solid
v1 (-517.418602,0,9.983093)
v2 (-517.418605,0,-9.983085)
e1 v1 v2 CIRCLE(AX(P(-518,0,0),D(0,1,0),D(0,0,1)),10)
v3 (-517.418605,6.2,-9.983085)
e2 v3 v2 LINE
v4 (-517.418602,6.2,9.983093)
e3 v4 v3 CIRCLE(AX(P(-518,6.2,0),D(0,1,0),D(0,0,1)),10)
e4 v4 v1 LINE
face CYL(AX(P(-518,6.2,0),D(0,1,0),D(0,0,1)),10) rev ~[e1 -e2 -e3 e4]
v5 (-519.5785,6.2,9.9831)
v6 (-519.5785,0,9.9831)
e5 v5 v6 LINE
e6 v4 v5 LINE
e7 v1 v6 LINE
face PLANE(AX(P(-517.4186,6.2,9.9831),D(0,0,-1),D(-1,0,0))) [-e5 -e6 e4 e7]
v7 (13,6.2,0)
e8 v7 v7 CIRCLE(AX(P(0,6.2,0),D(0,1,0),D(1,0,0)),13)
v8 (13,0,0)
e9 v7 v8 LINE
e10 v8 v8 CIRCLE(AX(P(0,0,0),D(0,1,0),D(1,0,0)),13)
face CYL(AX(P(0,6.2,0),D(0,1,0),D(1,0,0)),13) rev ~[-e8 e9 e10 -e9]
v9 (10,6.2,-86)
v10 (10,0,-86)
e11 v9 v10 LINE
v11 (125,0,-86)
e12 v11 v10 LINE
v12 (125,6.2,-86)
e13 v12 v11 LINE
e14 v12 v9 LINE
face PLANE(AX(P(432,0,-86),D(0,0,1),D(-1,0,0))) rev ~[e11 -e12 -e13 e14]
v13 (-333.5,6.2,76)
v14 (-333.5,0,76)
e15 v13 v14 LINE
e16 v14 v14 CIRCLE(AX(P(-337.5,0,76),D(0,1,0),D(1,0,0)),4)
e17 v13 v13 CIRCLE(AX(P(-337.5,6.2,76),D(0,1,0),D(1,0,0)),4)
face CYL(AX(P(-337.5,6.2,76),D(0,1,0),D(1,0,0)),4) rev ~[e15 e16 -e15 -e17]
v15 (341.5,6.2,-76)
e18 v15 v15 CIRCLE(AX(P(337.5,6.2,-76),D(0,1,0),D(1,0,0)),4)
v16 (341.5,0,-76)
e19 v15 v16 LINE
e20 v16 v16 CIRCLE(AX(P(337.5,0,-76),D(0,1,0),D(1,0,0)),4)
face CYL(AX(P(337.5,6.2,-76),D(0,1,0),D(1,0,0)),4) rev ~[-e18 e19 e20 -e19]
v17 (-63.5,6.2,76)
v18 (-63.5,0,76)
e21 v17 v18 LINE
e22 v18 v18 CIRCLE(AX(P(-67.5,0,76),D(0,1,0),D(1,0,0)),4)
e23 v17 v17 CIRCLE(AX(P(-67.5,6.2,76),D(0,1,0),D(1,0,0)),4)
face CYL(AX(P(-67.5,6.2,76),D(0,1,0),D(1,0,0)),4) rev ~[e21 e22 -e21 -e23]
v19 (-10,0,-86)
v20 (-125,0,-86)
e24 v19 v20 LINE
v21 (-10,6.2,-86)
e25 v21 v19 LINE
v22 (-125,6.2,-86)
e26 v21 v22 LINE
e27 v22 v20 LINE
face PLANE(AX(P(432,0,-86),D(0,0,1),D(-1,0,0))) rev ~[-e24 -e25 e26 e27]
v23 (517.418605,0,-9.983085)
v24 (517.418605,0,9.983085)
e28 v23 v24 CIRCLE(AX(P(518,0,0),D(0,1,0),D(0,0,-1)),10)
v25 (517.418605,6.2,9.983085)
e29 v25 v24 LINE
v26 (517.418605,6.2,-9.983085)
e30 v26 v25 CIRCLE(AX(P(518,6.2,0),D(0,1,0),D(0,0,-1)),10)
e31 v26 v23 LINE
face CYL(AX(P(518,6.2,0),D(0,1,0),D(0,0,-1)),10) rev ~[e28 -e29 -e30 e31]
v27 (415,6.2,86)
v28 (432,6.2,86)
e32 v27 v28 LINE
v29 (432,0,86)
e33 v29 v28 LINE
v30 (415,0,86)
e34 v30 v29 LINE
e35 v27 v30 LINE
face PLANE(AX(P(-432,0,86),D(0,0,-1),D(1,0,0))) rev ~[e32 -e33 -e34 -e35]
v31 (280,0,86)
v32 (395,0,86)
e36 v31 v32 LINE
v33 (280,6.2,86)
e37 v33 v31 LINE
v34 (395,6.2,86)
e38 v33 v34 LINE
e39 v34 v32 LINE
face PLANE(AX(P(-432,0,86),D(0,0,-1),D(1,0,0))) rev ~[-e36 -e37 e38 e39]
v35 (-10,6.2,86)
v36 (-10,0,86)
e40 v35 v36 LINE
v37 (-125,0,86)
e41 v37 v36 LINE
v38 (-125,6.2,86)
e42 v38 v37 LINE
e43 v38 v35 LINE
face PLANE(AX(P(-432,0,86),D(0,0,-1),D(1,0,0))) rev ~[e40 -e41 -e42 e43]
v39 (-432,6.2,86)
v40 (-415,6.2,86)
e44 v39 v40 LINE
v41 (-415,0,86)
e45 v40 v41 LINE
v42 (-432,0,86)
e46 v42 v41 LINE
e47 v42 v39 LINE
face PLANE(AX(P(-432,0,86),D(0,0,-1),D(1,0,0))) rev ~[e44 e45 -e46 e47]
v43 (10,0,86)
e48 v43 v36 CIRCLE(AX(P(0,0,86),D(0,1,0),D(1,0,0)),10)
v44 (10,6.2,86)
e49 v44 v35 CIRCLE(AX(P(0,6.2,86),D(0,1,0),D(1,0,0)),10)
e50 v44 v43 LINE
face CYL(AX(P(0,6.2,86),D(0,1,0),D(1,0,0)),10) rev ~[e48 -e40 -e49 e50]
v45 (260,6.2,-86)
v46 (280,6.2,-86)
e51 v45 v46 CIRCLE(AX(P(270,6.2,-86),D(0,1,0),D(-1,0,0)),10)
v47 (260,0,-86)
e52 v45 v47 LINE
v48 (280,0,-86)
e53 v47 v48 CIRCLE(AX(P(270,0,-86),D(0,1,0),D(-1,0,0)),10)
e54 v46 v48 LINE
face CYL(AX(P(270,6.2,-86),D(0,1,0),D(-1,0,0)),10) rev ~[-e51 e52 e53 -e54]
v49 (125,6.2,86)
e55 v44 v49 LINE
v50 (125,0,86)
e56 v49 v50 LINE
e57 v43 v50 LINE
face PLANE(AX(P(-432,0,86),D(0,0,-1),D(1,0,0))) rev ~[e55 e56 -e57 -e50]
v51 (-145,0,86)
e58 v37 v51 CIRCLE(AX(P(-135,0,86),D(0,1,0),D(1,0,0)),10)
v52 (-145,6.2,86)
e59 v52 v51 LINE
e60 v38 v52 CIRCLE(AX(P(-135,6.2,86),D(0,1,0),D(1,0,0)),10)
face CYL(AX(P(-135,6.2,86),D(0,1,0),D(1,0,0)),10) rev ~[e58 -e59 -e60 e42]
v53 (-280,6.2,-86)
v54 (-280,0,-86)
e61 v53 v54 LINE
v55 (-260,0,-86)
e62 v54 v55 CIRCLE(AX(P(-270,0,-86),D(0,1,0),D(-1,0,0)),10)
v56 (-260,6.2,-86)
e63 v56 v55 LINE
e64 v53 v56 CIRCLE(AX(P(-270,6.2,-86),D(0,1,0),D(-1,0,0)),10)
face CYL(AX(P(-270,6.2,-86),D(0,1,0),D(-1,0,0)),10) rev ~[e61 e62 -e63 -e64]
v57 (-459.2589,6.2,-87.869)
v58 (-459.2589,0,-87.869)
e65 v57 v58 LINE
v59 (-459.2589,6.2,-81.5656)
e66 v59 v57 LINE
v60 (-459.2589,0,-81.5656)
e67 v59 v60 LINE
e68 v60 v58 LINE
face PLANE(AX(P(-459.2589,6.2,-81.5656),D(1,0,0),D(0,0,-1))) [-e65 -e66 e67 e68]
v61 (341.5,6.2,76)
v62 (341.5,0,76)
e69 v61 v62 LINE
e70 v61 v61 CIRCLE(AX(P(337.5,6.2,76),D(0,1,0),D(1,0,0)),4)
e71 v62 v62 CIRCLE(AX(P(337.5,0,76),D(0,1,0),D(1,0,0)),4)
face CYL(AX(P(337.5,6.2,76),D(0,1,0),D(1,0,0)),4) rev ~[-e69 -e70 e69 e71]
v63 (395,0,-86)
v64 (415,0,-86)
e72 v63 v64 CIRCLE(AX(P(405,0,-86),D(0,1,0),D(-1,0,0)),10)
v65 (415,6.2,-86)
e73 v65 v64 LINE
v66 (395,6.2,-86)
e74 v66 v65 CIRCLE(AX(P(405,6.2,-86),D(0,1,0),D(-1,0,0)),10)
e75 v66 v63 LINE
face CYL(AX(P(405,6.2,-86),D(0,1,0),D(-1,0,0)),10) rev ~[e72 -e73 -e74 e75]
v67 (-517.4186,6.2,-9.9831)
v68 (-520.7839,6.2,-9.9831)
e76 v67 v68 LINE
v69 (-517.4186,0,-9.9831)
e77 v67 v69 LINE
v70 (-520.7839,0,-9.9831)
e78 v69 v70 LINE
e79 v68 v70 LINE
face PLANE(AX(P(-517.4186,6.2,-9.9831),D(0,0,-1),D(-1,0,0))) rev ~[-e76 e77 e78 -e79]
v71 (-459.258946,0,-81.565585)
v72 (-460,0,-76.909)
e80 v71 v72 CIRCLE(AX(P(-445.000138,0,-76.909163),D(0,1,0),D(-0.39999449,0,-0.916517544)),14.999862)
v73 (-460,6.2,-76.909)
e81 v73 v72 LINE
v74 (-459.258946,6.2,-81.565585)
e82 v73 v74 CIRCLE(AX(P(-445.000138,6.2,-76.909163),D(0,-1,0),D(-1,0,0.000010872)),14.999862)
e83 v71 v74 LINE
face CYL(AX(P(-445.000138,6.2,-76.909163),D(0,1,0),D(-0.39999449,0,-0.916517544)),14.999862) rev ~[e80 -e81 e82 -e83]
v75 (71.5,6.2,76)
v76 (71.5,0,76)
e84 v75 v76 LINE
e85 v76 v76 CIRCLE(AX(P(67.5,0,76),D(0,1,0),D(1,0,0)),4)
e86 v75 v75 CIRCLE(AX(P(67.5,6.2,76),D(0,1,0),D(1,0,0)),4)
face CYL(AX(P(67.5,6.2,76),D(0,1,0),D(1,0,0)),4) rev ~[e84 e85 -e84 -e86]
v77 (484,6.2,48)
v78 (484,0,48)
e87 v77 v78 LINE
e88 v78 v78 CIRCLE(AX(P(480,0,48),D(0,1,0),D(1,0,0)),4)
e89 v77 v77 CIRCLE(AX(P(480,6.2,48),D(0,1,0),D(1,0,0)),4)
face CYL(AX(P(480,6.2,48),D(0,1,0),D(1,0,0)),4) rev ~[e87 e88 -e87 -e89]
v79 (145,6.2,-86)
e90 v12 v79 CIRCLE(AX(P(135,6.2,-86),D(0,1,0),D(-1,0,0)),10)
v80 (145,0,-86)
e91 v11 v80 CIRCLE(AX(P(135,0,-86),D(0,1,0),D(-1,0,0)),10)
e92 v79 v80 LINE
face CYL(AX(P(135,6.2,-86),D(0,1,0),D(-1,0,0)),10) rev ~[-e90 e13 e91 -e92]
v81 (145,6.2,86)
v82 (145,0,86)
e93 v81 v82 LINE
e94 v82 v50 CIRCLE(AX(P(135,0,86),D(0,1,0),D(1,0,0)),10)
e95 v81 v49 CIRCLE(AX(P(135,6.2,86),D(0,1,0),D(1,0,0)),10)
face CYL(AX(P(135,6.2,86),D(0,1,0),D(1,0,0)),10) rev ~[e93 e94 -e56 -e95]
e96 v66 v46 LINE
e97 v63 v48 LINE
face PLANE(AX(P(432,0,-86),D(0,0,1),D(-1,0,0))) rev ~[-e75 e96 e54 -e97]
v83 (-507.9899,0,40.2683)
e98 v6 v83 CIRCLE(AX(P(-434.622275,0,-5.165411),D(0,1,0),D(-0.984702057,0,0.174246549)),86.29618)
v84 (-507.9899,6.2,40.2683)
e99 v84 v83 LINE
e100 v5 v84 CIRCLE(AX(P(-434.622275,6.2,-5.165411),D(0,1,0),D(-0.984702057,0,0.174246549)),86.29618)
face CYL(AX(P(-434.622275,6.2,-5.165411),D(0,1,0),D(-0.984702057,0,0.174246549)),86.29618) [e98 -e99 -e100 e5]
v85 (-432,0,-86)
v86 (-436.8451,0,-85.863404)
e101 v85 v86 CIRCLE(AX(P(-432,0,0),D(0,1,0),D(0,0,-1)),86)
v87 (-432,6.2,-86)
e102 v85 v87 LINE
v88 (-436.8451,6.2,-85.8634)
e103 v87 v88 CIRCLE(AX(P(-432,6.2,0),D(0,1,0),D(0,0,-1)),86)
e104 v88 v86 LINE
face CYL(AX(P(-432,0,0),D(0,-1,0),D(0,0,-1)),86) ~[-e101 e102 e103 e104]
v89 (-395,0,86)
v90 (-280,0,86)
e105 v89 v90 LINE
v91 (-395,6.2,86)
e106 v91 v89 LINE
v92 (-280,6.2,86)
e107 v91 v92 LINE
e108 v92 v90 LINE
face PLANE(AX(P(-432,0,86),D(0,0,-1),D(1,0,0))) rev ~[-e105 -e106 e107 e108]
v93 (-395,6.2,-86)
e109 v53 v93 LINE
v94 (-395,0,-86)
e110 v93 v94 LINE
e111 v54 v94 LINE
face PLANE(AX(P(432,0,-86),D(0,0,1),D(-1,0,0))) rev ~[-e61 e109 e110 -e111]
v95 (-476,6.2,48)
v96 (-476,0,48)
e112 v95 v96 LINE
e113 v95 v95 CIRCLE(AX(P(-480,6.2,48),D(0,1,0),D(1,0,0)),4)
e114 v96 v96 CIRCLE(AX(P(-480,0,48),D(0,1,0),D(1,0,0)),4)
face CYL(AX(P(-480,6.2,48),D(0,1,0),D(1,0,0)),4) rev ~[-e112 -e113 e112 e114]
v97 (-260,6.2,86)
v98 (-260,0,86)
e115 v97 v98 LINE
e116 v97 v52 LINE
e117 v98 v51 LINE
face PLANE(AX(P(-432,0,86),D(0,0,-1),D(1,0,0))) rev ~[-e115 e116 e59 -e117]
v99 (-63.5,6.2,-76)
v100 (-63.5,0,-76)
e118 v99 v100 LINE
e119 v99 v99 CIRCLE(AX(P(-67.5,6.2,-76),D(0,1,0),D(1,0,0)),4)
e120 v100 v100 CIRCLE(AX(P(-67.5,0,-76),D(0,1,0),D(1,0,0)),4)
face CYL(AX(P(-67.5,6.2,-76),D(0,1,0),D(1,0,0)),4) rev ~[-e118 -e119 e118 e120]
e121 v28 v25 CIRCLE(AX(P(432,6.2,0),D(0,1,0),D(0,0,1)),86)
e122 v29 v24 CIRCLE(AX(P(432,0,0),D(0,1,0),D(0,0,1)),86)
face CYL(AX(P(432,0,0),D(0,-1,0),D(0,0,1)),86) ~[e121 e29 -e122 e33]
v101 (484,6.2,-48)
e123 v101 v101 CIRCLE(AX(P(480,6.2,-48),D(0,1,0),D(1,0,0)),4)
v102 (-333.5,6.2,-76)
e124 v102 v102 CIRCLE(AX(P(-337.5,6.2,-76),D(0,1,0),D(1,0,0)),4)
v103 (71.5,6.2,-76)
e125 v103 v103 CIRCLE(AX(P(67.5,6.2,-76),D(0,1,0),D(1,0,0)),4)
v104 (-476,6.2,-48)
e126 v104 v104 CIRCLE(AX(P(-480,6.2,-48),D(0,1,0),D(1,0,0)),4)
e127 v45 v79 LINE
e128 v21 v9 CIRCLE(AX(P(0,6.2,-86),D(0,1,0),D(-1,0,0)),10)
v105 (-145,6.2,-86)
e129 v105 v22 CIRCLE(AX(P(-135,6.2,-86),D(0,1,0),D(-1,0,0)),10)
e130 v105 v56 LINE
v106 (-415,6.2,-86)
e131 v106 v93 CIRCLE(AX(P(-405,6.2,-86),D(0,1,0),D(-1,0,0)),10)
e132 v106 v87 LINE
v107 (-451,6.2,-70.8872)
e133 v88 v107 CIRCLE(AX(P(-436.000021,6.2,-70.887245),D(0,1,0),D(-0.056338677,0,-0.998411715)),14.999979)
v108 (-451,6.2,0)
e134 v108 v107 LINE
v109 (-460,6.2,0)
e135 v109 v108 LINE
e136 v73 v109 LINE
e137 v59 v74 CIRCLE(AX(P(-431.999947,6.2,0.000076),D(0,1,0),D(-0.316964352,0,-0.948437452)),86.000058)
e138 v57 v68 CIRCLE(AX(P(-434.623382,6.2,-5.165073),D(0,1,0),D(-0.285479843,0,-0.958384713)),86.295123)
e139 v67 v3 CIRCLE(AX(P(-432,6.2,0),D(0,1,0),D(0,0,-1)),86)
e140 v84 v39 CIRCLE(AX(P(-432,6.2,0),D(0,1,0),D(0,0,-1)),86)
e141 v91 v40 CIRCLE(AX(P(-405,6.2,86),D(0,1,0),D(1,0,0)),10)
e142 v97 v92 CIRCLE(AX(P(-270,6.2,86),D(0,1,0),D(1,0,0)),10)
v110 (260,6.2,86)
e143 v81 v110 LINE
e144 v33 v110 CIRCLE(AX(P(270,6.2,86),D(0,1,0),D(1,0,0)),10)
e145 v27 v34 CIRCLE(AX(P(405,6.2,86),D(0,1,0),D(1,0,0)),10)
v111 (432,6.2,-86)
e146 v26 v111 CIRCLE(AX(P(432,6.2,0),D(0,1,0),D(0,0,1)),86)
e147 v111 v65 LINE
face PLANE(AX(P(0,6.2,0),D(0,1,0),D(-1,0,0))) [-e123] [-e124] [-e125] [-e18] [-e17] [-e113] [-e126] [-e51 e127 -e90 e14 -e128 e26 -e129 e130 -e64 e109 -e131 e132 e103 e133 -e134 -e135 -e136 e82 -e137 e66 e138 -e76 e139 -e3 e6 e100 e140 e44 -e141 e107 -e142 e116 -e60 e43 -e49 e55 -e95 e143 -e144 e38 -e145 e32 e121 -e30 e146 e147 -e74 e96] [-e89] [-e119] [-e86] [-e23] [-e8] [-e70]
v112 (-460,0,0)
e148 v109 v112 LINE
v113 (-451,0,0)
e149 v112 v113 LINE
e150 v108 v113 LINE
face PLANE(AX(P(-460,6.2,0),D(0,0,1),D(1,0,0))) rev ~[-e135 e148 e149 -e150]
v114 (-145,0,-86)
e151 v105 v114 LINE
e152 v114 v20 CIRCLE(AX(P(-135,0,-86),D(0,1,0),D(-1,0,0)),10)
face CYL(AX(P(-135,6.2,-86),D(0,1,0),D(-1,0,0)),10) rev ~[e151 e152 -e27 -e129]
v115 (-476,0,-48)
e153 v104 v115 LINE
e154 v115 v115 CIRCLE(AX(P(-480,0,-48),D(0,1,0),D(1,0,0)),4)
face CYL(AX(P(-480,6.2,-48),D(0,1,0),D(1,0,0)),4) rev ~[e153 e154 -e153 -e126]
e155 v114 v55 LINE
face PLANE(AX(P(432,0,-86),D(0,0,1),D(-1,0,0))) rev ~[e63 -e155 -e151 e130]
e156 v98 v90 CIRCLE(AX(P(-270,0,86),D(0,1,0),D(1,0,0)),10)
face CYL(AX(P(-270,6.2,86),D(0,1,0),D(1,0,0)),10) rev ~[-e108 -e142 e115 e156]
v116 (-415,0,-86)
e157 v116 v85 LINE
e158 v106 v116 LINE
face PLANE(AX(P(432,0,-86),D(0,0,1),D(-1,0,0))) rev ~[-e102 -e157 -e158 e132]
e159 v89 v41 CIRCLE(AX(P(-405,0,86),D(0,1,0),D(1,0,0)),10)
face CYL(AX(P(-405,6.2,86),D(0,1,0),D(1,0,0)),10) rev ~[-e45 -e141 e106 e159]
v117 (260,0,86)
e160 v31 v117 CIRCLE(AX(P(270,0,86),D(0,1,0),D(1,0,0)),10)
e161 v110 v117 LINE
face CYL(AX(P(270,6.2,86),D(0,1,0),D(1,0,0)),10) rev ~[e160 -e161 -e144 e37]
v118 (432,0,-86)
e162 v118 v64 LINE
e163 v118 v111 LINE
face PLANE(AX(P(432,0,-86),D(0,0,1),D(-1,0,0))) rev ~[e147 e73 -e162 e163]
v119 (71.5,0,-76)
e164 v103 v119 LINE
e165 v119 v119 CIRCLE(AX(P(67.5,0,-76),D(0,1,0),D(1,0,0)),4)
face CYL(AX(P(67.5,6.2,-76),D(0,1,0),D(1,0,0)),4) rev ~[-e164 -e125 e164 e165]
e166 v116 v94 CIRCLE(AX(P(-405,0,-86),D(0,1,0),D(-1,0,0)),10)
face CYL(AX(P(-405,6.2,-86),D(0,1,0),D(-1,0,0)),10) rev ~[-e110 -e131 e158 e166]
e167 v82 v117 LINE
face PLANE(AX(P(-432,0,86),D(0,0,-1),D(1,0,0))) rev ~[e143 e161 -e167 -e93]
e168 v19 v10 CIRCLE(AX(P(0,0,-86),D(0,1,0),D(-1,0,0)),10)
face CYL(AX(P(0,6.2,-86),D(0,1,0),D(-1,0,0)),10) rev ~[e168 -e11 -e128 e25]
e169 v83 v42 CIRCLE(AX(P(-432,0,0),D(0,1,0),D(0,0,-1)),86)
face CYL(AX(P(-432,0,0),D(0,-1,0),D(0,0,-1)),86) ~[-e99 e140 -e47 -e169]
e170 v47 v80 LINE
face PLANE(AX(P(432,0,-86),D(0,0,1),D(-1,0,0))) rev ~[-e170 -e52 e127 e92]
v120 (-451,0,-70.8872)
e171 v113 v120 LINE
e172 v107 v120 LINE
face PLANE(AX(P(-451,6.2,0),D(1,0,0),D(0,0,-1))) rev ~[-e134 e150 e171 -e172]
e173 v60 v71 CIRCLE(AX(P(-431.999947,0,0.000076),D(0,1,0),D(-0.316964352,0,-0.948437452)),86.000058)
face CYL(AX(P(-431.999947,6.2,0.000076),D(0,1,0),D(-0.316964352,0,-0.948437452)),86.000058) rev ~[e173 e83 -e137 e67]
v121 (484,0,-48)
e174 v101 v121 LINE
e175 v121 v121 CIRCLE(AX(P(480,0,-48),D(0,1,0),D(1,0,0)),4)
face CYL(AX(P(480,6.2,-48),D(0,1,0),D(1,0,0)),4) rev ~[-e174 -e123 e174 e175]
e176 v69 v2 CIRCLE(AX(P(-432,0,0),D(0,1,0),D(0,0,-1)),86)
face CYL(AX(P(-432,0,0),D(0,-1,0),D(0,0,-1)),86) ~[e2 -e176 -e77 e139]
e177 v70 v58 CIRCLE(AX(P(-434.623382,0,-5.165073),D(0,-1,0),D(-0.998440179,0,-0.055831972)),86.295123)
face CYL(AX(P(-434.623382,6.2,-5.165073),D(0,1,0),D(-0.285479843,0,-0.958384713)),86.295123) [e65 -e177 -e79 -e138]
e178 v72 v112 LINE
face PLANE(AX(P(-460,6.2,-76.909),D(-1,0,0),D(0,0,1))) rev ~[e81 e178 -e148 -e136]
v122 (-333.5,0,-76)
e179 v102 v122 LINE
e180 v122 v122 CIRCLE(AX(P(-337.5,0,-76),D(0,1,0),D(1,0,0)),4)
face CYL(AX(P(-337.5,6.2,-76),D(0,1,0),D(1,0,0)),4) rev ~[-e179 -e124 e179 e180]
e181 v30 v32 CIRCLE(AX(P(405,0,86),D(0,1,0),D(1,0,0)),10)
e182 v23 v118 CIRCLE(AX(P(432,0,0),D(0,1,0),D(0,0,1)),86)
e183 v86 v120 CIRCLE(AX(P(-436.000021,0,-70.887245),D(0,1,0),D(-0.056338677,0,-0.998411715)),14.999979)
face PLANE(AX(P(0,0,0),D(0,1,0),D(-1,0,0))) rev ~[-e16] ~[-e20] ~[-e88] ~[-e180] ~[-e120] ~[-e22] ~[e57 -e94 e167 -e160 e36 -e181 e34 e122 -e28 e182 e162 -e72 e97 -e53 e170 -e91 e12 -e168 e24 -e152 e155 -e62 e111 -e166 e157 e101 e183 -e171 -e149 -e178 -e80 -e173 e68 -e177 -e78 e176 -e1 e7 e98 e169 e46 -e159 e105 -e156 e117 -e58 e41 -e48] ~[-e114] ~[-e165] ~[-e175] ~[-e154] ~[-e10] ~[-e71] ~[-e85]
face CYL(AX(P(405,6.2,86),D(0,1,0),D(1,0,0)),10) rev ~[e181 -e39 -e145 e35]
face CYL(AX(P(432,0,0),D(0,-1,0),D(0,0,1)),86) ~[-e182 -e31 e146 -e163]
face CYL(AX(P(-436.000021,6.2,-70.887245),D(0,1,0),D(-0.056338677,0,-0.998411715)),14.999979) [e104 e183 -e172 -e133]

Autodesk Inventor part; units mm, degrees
ref_plane "YZ Plane" through (0, 0, 0) normal (1, 0, 0) x (0, 1, 0)
ref_plane "XZ Plane" through (0, 0, 0) normal (0, 1, 0) x (-1, 0, 0)
ref_plane "XY Plane" through (0, 0, 0) normal (0, 0, 1) x (1, 0, 0)
sketch "Sketch1" plane through (0, 0, 0) normal (0, 1, 0) x (-1, 0, 0)
  line L0 (432, 86) -> (-432, 86)
  line L1 (-432, -86) -> (432, -86)
  arc A0 (432, -86) -> (432, 86) centre (432, 0) ccw
  arc A1 (-432, 86) -> (-432, -86) centre (-432, 0) ccw
  point P0 (0, 0)
  dimension "d4" = 432
  dimension "d5" = 864
  dimension "d7" = 86
  dimension "d107" = 172
extrude "Extrusion1" add sketch "Sketch1" along normal blind 6.2
sketch "Sketch4" plane through (0, 6.2, 0) normal (0, 1, 0) x (1, 0, 0)
  line L0 (-659.0781, -10) -> (-659.0781, 10)
  line L1 (670.9769, 10) -> (670.9769, -10)
  line L2 (-10, 220.6364) -> (10, 220.6364)
  line L3 (-125, -216.3636) -> (-145, -216.3636)
  line L4 (-145, 220.6364) -> (-125, 220.6364)
  line L5 (-260, -216.3636) -> (-280, -216.3636)
  line L6 (-280, 220.6364) -> (-260, 220.6364)
  line L7 (145, -216.3636) -> (125, -216.3636)
  line L8 (125, 220.6364) -> (145, 220.6364)
  line L9 (280, -216.3636) -> (260, -216.3636)
  line L10 (260, 220.6364) -> (280, 220.6364)
  line L11 (395, 220.6364) -> (415, 220.6364)
  line L12 (-432, -86) -> (432, -86) projected
  line L13 (432, 86) -> (-432, 86) projected
  line L14 (395, 86) -> (395, 220.6364)
  line L15 (415, 220.6364) -> (415, 86)
  line L16 (280, -86) -> (280, -216.3636)
  line L17 (260, -216.3636) -> (260, -86)
  line L18 (280, 220.6364) -> (280, 86)
  line L19 (260, 86) -> (260, 220.6364)
  line L20 (145, -86) -> (145, -216.3636)
  line L21 (125, -216.3636) -> (125, -86)
  line L22 (145, 220.6364) -> (145, 86)
  line L23 (125, 86) -> (125, 220.6364)
  line L24 (10, 220.6364) -> (10, 86)
  line L25 (-10, 86) -> (-10, 220.6364)
  line L26 (-125, -86) -> (-125, -216.3636)
  line L27 (-145, -216.3636) -> (-145, -86)
  line L28 (-125, 220.6364) -> (-125, 86)
  line L29 (-145, 86) -> (-145, 220.6364)
  line L30 (-260, -86) -> (-260, -216.3636)
  line L31 (-280, -216.3636) -> (-280, -86)
  line L32 (-260, 220.6364) -> (-260, 86)
  line L33 (-280, 86) -> (-280, 220.6364)
  arc A0 (395, 86) -> (415, 86) centre (405, 86) ccw
  arc A1 (260, 86) -> (280, 86) centre (270, 86) ccw
  arc A2 (125, 86) -> (145, 86) centre (135, 86) ccw
  arc A3 (-10, 86) -> (10, 86) centre (0, 86) ccw
  arc A4 (-145, 86) -> (-125, 86) centre (-135, 86) ccw
  arc A5 (-280, 86) -> (-260, 86) centre (-270, 86) ccw
  arc A6 (-260, -86) -> (-280, -86) centre (-270, -86) ccw
  arc A7 (-125, -86) -> (-145, -86) centre (-135, -86) ccw
  arc A8 (145, -86) -> (125, -86) centre (135, -86) ccw
  arc A9 (280, -86) -> (260, -86) centre (270, -86) ccw
  arc A10 (518, 10) -> (518, -10) centre (518, 0) ccw
  arc A11 (-518, -10) -> (-518, 10) centre (-518, 0) ccw
  line L34 (-659.0781, 10) -> (-518, 10)
  line L35 (517.4166, 10) -> (670.9769, 10)
  line L36 (670.9769, -10) -> (518, -10)
  line L37 (-518, -10) -> (-659.0781, -10)
  circle A12 centre (-480, 48) radius 4
  circle A13 centre (-337.5, 76) radius 4
  circle A14 centre (337.5, 76) radius 4
  circle A15 centre (480, 48) radius 4
  circle A16 centre (480, -48) radius 4
  circle A17 centre (337.5, -76) radius 4
  circle A18 centre (-337.5, -76) radius 4
  circle A19 centre (-480, -48) radius 4
  arc A20 (-432, 86) -> (-432, -86) centre (-432, 0) ccw projected
  line L38 (10, -86) -> (10, -216.3636)
  line L39 (-10, -216.3636) -> (-10, -86)
  arc A21 (10, -86) -> (-10, -86) centre (0, -86) ccw
  line L40 (-10, -216.3636) -> (10, -216.3636)
  line L41 (-415, 220.6364) -> (-395, 220.6364)
  line L42 (-395, 220.6364) -> (-395, 86)
  line L43 (-415, 86) -> (-415, 220.6364)
  arc A22 (-415, 86) -> (-395, 86) centre (-405, 86) ccw
  line L44 (415, -216.3636) -> (395, -216.3636)
  line L45 (415, -86) -> (415, -216.3636)
  line L46 (395, -216.3636) -> (395, -86)
  arc A23 (415, -86) -> (395, -86) centre (405, -86) ccw
  line L47 (-395, -216.3636) -> (-415, -216.3636)
  line L48 (-395, -86) -> (-395, -216.3636)
  line L49 (-415, -216.3636) -> (-415, -86)
  arc A24 (-395, -86) -> (-415, -86) centre (-405, -86) ccw
  line L50 (-432, 0) -> (-518, 0)
  circle A25 centre (-67.5, 76) radius 4
  circle A26 centre (67.5, 76) radius 4
  circle A27 centre (67.5, -76) radius 4
  circle A28 centre (-67.5, -76) radius 4
  point P0 (480, -91)
  point P1 (480, 91)
  point P2 (-395, 86)
  point P3 (-395, 86)
  dimension "d18" = 20
  dimension "d54" = 76
  dimension "d55" = 48
  dimension "d59" = 48
  dimension "d60" = 76
  dimension "d73" = 8
  dimension "d109" = 135
  dimension "d110" = 135
  dimension "d111" = 135
  dimension "d112" = 135
  dimension "d113" = 135
  dimension "d115" = 135
  dimension "d116" = 20
  dimension "d120" = 48
  dimension "d121" = 38
  dimension "d122" = 38
  dimension "d123" = 48
  dimension "d124" = 38
  dimension "d125" = 38
  dimension "d130" = 76
  dimension "d131" = 76
  dimension "d144" = 76
  dimension "d145" = 76
  dimension "d146" = 76
  dimension "d147" = 76
  dimension "d149" = 57.5
  dimension "d150" = 57.5
  dimension "d151" = 57.5
  dimension "d152" = 57.5
  dimension "d153" = 57.5
  dimension "d154" = 57.5
  dimension "d155" = 57.5
  dimension "d156" = 57.5
extrude "Extrusion3" cut sketch "Sketch4" against normal through all
sketch "Sketch10" plane through (0, 6.2, 0) normal (0, 1, 0) x (1, 0, 0)
  circle A0 centre (0, 0) radius 13
extrude "Extrusion7" cut sketch "Sketch10" against normal through all
sketch "Sketch13" plane through (0, 6.2, 0) normal (0, 1, 0) x (1, 0, 0)
  line L0 (-460, 0) -> (-451, 0)
  arc A0 (-432, 86) -> (-517.4186, 9.9831) centre (-432, 0) ccw projected
  arc A1 (-436.8451, 85.8634) -> (-451, 70.8872) centre (-436, 70.8872) ccw
  line L1 (-460, 76.909) -> (-460, 0)
  line L2 (-451, 0) -> (-451, 70.8872)
  arc A2 (-451, 90.6568) -> (-460, 76.909) centre (-445, 76.909) ccw
  arc A3 (-517.4186, -9.9831) -> (-432, -86) centre (-432, 0) ccw projected
  line L3 (-436.8451, 85.8634) -> (-436.8451, 93.1)
  line L4 (-451, 90.6568) -> (-436.8451, 93.1)
  point P0 (0, 0)
  dimension "d163" = 9
  dimension "d167" = 30
  dimension "d168" = 460
  dimension "d169" = 15
  dimension "d175" = 0
extrude "Extrusion10" cut sketch "Sketch13" against normal through all
sketch "Sketch14" plane through (0, 6.2, 0) normal (0, 1, 0) x (1, 0, 0)
  line L0 (-451, 0) -> (-460, 0) projected
  line L1 (-460, 0) -> (-515.1777, -9.5935) construction
  line L2 (-460, 0) -> (-460, 76.909) projected
  line L3 (-460, 0) -> (-486.8762, 73.8417)
  arc A0 (-459.2589, 81.5656) -> (-517.4186, 9.9831) centre (-432, 0) ccw projected
  arc A1 (-517.4186, -9.9831) -> (-432, -86) centre (-432, 0) ccw projected
  line L4 (-280, 86) -> (-395, 86) projected
  line L5 (-395, -86) -> (-280, -86) projected
  line L6 (-460, 0) -> (-507.9899, -40.2683)
  line L7 (-460, 0) -> (-536.3277, 0) construction
  line L8 (-459.2589, 81.5656) -> (-459.2589, 87.869)
  arc A2 (-460, 87.6356) -> (-486.8762, 73.8417) centre (-434.6538, 5.1707) ccw
  line L9 (-517.4186, -9.9831) -> (-519.5785, -9.9831)
  line L10 (-517.4186, 9.9831) -> (-520.7839, 9.9831)
  arc A3 (-519.6047, -9.8704) -> (-519.5983, -9.8714) centre (-518, 0) ccw
  arc A4 (-459.2589, 87.869) -> (-520.7839, 9.9831) centre (-434.6234, 5.1651) ccw
  arc A5 (-519.5983, -9.8714) -> (-507.9899, -40.2683) centre (-434.6234, 5.1651) ccw
  arc A6 (-517.4186, -9.9831) -> (-507.9899, -40.2683) centre (-432, 0) ccw
  arc A7 (-459.2589, 81.5656) -> (-517.4186, 9.9831) centre (-432, 0) ccw
  point P0 (0, 0)
  point P1 (-484.7279, 67.9394)
  dimension "d182" = 40
  dimension "d183" = 70
extrude "Extrusion11" add sketch "Sketch14" against normal up to surface (6.2 mm away)
properties part number "1312_Former Middle_V1" material "Aluminum 6061"
